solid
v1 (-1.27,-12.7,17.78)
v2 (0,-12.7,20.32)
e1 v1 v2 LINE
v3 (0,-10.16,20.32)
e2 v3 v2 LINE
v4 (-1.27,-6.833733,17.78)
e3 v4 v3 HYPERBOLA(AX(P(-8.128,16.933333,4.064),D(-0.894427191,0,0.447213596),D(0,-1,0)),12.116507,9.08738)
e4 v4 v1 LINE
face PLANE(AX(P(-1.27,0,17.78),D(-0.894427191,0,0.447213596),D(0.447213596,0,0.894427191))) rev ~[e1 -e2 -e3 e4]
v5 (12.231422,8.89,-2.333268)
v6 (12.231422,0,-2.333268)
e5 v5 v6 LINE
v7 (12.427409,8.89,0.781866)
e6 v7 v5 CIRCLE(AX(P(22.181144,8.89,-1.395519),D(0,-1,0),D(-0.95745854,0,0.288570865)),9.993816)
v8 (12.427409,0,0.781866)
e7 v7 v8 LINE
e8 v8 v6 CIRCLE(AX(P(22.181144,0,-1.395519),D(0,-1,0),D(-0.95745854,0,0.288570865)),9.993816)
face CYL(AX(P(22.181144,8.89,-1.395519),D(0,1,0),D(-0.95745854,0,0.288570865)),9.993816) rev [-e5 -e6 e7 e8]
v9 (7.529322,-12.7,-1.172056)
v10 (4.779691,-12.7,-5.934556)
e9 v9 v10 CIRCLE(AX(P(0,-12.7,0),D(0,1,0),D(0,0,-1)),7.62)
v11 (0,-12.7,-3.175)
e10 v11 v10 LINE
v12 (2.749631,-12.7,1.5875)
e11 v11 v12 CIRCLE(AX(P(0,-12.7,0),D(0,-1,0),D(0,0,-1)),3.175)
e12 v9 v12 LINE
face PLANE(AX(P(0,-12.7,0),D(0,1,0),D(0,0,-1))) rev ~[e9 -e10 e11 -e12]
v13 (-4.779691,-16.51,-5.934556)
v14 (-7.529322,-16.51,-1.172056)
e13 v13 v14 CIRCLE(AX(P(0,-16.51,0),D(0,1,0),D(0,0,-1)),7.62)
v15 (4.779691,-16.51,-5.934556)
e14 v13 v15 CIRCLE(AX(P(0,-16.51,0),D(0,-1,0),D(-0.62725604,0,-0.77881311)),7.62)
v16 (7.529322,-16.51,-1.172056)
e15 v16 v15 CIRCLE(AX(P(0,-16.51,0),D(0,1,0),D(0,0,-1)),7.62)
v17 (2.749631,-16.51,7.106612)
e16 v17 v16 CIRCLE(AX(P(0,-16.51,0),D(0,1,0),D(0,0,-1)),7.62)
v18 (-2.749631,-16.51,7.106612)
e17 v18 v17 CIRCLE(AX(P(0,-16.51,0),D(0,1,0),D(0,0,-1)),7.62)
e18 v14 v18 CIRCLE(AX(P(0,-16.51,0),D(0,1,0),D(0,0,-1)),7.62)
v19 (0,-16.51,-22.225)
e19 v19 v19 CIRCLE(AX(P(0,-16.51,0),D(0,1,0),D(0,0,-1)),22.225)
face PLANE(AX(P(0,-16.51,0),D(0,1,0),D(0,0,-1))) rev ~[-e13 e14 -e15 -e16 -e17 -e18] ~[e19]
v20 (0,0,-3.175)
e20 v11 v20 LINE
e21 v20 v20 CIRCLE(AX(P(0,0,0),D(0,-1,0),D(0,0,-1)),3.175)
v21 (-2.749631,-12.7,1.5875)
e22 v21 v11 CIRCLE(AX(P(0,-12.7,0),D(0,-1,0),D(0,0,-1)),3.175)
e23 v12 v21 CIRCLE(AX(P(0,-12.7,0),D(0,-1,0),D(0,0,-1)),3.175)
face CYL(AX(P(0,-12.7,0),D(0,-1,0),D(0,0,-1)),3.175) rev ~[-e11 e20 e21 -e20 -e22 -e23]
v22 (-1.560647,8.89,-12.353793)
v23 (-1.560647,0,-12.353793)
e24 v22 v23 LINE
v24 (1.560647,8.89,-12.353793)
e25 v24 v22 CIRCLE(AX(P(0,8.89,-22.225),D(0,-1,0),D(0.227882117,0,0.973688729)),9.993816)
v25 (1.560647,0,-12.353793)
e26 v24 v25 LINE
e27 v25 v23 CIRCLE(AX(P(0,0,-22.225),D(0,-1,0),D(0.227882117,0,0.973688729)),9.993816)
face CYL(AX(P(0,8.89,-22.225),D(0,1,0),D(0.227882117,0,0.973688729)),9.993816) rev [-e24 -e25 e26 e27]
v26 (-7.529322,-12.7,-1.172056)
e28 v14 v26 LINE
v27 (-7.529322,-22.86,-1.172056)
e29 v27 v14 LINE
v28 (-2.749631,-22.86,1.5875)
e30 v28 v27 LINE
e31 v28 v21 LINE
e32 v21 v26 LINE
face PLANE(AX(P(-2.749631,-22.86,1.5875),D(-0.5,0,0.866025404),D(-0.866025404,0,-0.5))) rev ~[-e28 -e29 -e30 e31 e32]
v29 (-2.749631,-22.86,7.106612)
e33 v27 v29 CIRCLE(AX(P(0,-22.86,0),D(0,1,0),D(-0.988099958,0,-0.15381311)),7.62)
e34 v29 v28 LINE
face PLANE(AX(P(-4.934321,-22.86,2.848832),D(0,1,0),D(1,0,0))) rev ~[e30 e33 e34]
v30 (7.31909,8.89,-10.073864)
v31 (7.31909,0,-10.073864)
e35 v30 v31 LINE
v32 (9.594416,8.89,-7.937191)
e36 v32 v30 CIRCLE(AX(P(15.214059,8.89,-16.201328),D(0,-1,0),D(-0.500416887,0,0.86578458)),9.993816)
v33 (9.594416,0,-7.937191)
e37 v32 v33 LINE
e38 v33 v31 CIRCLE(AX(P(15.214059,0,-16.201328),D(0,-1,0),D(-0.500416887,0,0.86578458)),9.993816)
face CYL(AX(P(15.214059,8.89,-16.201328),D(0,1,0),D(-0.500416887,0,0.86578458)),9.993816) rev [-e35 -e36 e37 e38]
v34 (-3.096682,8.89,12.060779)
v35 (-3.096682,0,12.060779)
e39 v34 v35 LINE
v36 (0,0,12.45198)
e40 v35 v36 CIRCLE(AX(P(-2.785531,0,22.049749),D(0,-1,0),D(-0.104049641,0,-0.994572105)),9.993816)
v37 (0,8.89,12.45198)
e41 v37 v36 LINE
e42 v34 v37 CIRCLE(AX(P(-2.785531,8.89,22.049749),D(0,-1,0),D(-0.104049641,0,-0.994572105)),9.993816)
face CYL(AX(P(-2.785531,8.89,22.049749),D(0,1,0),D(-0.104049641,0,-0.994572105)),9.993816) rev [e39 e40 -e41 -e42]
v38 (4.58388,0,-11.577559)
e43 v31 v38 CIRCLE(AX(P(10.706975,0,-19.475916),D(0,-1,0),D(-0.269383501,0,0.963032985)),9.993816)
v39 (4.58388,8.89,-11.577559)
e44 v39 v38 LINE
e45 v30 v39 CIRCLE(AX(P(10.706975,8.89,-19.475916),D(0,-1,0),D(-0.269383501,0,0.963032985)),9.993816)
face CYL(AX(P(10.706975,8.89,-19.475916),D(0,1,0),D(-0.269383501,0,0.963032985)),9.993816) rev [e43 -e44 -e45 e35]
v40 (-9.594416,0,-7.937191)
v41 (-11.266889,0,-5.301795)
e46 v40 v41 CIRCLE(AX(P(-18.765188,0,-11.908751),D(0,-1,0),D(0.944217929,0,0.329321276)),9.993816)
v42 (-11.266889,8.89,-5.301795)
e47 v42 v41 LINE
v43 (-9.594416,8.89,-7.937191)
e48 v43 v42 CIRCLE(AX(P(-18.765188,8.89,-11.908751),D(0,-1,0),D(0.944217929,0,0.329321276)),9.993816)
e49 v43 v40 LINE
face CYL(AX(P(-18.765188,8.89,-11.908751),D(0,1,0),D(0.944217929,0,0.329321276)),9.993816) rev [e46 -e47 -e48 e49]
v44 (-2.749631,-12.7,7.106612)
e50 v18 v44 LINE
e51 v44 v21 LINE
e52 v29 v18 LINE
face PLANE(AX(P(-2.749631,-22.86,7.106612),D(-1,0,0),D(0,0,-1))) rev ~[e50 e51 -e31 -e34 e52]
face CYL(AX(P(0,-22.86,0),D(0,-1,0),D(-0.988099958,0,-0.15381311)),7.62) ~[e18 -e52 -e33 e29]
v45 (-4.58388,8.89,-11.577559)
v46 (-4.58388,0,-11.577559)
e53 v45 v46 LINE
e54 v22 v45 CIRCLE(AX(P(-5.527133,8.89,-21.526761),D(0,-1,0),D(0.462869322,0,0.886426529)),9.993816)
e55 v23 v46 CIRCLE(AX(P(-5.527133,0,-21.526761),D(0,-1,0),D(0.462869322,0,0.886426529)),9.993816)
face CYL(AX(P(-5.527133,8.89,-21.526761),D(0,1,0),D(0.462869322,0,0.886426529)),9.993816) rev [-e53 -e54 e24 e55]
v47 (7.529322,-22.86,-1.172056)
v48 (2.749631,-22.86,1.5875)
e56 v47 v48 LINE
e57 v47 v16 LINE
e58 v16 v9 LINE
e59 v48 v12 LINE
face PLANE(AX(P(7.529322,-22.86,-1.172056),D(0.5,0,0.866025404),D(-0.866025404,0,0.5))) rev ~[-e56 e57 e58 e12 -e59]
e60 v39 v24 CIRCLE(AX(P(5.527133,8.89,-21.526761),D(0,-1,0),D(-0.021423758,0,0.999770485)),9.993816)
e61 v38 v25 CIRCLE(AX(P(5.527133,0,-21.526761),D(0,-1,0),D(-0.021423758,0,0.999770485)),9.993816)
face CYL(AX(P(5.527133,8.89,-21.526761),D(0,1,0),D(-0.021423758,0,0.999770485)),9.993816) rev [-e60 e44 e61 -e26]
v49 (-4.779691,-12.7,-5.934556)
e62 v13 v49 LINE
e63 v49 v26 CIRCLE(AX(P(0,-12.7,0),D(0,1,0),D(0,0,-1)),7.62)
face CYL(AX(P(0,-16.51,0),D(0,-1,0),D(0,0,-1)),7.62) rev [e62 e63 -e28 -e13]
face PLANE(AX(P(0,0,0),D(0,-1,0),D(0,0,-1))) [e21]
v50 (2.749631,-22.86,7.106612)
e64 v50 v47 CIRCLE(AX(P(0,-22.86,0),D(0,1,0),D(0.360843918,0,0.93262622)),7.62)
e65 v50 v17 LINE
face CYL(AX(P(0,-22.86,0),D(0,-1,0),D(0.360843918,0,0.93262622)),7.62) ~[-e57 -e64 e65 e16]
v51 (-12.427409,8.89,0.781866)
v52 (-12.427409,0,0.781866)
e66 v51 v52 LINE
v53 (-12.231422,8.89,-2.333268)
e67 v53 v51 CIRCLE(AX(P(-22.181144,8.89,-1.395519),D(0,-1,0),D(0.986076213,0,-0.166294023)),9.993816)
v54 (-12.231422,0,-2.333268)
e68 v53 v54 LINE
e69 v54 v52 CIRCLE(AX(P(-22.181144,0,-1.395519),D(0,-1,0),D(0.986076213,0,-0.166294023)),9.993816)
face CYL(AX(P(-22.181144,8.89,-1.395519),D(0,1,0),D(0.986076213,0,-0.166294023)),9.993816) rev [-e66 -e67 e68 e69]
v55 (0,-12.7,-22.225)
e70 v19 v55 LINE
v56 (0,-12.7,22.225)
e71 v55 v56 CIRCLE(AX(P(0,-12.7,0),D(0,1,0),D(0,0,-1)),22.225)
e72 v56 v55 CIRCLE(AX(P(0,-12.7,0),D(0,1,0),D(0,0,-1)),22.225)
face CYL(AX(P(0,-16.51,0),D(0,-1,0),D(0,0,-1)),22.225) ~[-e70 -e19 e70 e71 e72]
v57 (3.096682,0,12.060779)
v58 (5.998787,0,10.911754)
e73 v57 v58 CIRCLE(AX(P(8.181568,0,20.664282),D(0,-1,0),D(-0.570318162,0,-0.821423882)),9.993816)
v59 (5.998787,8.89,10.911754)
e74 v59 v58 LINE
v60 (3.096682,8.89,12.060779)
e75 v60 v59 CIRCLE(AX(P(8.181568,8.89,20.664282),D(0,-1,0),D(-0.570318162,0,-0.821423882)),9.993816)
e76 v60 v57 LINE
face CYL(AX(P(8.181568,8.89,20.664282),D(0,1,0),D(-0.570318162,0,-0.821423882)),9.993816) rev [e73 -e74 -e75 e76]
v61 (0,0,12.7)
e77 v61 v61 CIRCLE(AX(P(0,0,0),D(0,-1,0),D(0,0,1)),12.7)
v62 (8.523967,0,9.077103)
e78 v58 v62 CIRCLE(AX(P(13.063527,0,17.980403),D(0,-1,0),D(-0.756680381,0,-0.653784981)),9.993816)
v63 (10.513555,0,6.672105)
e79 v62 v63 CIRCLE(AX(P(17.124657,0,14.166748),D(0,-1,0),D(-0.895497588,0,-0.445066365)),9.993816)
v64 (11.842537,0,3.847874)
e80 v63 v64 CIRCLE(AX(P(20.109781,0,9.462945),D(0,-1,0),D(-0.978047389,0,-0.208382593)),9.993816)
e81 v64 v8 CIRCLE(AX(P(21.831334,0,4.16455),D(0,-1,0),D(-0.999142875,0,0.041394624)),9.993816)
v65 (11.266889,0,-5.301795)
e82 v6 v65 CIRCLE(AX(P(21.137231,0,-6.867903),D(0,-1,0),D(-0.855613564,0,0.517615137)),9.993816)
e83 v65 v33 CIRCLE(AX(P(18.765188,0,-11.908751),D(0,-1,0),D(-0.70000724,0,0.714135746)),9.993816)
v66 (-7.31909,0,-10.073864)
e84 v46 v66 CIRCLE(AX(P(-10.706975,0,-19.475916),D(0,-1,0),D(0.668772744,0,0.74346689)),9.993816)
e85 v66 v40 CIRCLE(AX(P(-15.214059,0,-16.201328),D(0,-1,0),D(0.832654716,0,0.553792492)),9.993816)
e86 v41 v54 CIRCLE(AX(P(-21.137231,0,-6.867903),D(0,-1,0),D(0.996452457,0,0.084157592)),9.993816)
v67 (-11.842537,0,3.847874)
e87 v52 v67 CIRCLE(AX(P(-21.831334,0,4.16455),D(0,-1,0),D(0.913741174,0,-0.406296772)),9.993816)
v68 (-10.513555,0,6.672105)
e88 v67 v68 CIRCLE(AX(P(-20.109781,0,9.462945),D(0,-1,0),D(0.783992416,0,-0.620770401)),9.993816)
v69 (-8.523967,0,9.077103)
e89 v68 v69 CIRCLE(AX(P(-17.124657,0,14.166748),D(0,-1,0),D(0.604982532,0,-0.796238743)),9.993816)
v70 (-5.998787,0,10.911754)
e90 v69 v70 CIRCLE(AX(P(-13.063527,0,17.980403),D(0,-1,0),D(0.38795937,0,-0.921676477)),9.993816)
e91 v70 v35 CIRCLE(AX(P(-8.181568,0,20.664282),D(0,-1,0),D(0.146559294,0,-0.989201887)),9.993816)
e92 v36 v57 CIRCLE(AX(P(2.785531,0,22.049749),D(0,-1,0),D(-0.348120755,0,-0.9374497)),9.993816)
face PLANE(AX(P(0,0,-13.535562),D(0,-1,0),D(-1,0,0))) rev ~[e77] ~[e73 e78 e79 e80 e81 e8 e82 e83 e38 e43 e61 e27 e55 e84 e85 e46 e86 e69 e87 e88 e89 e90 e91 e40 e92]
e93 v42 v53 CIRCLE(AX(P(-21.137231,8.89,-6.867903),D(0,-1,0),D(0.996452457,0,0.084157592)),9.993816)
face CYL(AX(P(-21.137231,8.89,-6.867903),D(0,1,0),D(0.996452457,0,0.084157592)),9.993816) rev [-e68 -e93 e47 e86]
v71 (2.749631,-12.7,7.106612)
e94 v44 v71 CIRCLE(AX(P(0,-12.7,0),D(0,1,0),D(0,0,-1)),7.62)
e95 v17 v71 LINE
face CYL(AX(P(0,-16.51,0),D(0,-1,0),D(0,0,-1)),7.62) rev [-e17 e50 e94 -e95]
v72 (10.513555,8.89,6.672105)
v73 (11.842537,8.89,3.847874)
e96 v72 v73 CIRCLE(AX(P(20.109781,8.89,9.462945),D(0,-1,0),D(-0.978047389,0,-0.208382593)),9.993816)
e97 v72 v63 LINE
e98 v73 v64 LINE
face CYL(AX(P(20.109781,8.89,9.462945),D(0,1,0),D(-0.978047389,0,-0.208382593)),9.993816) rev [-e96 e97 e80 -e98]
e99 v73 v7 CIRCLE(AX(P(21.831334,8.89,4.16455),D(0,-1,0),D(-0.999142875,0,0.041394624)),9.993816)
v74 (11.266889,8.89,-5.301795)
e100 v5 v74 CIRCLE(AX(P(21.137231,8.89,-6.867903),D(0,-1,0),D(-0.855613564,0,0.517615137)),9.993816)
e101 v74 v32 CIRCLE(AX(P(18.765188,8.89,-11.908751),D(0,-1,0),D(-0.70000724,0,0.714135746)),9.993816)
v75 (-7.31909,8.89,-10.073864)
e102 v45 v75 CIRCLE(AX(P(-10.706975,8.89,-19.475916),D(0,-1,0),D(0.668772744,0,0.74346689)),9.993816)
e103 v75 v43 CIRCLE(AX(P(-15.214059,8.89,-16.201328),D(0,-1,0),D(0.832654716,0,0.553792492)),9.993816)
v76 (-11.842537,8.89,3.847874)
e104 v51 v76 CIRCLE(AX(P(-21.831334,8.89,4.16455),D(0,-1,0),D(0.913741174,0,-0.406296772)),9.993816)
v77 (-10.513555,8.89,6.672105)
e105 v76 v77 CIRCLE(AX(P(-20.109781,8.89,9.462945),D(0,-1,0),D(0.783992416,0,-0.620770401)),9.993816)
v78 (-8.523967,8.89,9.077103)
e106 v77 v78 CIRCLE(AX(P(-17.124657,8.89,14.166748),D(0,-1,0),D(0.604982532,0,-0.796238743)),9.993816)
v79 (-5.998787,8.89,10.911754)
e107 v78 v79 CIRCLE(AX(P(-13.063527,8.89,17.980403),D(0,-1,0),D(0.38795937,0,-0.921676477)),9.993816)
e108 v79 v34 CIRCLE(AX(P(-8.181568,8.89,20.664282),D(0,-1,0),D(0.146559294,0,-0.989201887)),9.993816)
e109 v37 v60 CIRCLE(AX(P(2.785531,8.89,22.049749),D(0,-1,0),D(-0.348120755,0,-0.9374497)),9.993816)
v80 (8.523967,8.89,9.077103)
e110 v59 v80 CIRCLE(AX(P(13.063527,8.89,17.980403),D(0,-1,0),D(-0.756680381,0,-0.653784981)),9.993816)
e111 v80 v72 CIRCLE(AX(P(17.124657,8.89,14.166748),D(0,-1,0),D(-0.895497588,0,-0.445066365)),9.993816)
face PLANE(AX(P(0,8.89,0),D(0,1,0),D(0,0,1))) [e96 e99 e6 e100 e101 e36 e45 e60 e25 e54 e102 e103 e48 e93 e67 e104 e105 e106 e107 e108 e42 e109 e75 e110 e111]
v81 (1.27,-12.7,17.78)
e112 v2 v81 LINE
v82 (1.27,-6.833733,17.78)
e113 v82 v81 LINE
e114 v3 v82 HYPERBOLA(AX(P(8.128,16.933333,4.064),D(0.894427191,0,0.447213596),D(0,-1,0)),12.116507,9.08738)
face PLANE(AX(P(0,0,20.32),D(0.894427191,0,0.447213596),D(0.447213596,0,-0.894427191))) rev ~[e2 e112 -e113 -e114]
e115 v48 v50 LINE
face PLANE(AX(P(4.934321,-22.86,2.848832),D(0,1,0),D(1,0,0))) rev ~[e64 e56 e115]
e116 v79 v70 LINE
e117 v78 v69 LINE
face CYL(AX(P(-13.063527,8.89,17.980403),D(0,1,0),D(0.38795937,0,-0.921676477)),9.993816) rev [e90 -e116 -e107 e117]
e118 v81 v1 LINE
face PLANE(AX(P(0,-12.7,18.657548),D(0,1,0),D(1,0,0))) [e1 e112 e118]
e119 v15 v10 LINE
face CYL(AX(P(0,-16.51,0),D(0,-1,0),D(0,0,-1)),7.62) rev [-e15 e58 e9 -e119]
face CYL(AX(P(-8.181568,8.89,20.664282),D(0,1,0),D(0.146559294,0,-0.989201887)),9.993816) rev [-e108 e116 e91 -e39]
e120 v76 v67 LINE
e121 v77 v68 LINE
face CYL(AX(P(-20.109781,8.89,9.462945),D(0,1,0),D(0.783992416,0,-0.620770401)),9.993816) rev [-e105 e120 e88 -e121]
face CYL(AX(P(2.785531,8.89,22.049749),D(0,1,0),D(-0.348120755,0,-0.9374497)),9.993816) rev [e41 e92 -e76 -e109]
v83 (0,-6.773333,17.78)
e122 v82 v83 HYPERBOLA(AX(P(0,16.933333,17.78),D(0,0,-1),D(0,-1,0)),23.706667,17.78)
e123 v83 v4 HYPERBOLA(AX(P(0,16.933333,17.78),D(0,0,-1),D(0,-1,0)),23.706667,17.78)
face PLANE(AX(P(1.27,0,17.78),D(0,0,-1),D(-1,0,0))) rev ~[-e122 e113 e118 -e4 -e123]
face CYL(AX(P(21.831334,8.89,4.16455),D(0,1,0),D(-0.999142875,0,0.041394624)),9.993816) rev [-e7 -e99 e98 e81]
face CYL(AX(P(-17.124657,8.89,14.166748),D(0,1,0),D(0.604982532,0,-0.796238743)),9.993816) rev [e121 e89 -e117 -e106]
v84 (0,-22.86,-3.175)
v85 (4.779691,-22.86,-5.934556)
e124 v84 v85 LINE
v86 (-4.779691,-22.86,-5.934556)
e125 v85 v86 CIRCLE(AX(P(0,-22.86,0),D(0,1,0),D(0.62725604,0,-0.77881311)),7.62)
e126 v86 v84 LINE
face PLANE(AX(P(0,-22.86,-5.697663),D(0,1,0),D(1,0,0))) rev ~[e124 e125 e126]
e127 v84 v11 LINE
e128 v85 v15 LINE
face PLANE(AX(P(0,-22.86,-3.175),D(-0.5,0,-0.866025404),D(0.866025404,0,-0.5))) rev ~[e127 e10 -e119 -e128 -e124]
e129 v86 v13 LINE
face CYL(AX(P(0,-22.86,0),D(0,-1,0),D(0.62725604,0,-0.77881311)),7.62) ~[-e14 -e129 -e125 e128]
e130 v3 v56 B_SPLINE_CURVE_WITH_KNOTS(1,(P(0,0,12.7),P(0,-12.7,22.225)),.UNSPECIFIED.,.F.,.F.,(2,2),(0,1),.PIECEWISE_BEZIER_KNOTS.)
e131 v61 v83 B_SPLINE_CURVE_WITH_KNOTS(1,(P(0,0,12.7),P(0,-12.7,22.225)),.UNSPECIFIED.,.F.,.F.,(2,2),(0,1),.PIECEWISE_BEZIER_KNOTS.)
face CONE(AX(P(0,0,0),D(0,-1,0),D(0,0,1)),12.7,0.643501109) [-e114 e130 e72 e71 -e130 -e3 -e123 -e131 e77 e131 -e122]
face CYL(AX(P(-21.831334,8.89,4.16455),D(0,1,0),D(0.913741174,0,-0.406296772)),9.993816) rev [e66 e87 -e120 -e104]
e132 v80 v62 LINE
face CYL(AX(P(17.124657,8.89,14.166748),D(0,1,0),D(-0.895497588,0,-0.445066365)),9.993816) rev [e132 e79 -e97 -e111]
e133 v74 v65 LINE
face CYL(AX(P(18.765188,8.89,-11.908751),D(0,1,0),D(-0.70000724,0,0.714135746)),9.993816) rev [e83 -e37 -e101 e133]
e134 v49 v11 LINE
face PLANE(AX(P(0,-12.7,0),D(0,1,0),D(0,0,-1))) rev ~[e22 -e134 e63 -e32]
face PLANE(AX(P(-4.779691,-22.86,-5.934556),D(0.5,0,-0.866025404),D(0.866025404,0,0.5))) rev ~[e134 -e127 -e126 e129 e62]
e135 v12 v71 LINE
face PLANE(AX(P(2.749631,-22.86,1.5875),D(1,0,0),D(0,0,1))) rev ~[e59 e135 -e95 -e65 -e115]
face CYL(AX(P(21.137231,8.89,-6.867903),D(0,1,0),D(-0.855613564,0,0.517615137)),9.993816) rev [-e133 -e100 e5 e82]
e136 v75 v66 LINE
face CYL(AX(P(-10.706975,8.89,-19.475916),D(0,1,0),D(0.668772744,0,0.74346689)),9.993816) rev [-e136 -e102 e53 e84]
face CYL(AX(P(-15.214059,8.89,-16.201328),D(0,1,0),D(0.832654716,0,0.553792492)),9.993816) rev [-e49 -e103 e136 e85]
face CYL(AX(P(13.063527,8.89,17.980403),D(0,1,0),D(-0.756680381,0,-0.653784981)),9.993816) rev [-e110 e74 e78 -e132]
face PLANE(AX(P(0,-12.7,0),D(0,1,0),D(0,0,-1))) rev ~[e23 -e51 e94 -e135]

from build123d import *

# Parameters (mm, degrees)
SKETCH1_R                = 12.7
BOSS_EXTRUDE1_DEPTH      = 8.89
SKETCH2_R                = 22.225
BOSS_EXTRUDE3_DEPTH      = 3.81
SKETCH4_R                = 7.62
CUT_EXTRUDE2_DEPTH       = 3.81
BOSS_EXTRUDE4_DEPTH      = 3.81
BOSS_EXTRUDE4_DEPTH_BACK = 6.35
SKETCH7_R                = 3.175
CUT_EXTRUDE3_DEPTH       = 12.7
CUT_EXTRUDE4_DEPTH       = 12.7
CUT_EXTRUDE_THIN2_DEPTH  = 8.89


with BuildPart() as part:
    # Sketch1 → Boss-Extrude1 (new body)
    with BuildSketch(Plane(origin=(0, 0, 0), x_dir=(1, 0, 0), z_dir=(0, 1, 0))):
        with Locations(Location((0, 0, 0), (0, 0, 270))):
            Circle(SKETCH1_R)
    extrude(amount=BOSS_EXTRUDE1_DEPTH)



with BuildPart() as body_2:
    # Sketch2 → Boss-Extrude3 (new body)
    with BuildSketch(Plane(origin=(0, -16.51, 0), x_dir=(1, 0, 0), z_dir=(0, 1, 0))):
        with Locations(Location((0, 0, 0), (0, 0, 90))):
            Circle(SKETCH2_R)
    extrude(amount=BOSS_EXTRUDE3_DEPTH)


with BuildPart() as part_1:
    add(part.part)

    add(body_2.part)  # loft2 joins it to this body
    # loft up to a face of the part (loft2)
    loft([Face(Wire([part_1.edges().sort_by_distance((-9.257901568, 0, -8.693748245))[0]])), Face(Wire([part_1.edges().sort_by_distance((-16.201327744, -12.7, 15.214059429))[0]]))])

    # Sketch4 → Cut-Extrude2 (cut)
    with BuildSketch(Plane(origin=(0, -16.51, 0), x_dir=(1, 0, 0), z_dir=(0, 1, 0))):
        with Locations(Location((0, 0, 0), (0, 0, 90))):
            Circle(SKETCH4_R)
    extrude(amount=CUT_EXTRUDE2_DEPTH, mode=Mode.SUBTRACT)

    # Sketch3 → Boss-Extrude4 (add, two sides: drawn at the far end of the back side and taken through both)
    with BuildSketch(Plane(origin=(0, -16.51, 0), x_dir=(1, 0, 0), z_dir=(0, 1, 0)).offset(-BOSS_EXTRUDE4_DEPTH_BACK)):
        with BuildLine():
            Line((0, 3.175), (4.779691024, 5.934555899))
            ThreePointArc((4.779691024, 5.934555899), (0, 7.62), (-4.779691024, 5.934555899))
            Line((-4.779691024, 5.934555899), (0, 3.175))
        make_face()
        with BuildLine():
            Line((2.749630657, -1.5875), (2.749630657, -7.106611798))
            ThreePointArc((2.749630657, -7.106611798), (6.599113577, -3.81), (7.529321681, 1.172055899))
            Line((7.529321681, 1.172055899), (2.749630657, -1.5875))
        make_face()
        with BuildLine():
            Line((-2.749630657, -1.5875), (-7.529321681, 1.172055899))
            ThreePointArc((-7.529321681, 1.172055899), (-6.599113577, -3.81), (-2.749630657, -7.106611798))
            Line((-2.749630657, -7.106611798), (-2.749630657, -1.5875))
        make_face()
    extrude(amount=BOSS_EXTRUDE4_DEPTH + BOSS_EXTRUDE4_DEPTH_BACK)

    # Sketch7 → Cut-Extrude3 (cut)
    with BuildSketch(Plane.XZ.offset(12.7)):
        with Locations(Location((0, 0, 0), (0, 0, 270))):
            Circle(SKETCH7_R)
    extrude(amount=-CUT_EXTRUDE3_DEPTH, mode=Mode.SUBTRACT)

    # Sketch9 → Cut-Extrude4 (cut)
    with BuildSketch(Plane(origin=(0, 0, 0), x_dir=(1, 0, 0), z_dir=(0, 1, 0))):
        Polygon((0, -20.32), (1.27, -17.78), (-1.27, -17.78), align=None)
    extrude(amount=-CUT_EXTRUDE4_DEPTH, mode=Mode.SUBTRACT)

    # Sketch10 → Cut-Extrude-Thin2 (cut)
    with BuildSketch(Plane(origin=(0, 8.89, 0), x_dir=(1, 0, 0), z_dir=(0, 1, 0))):
        with BuildLine():
            ThreePointArc((2.277411846, 12.494134435), (0, 12.231184444), (-2.277411846, 12.494134435))
            Line((-2.277411846, 12.494134435), (-1.698591269, 14.967303806))
            ThreePointArc((-1.698591269, 14.967303806), (0, 14.771184444), (1.698591269, 14.967303806))
            Line((1.698591269, 14.967303806), (2.277411846, 12.494134435))
        make_face()
        with BuildLine():
            ThreePointArc((5.313027648, 11.535238932), (3.041771879, 11.846919293), (0.901302118, 12.667977522))
            Line((0.901302118, 12.667977522), (2.076990194, 14.919500905))
            ThreePointArc((2.076990194, 14.919500905), (3.673444193, 14.307120523), (5.367443996, 14.074655963))
            Line((5.367443996, 14.074655963), (5.313027648, 11.535238932))
        make_face()
        with BuildLine():
            ThreePointArc((8.014806383, 9.851541942), (5.892418045, 10.718268633), (4.023383955, 12.045844991))
            Line((4.023383955, 12.045844991), (5.722066724, 13.934250892))
            ThreePointArc((5.722066724, 13.934250892), (7.116072377, 12.944087601), (8.699040476, 12.297645723))
            Line((8.699040476, 12.297645723), (8.014806383, 9.851541942))
        make_face()
        with BuildLine():
            ThreePointArc((10.212985356, 7.548836342), (8.372821913, 8.916149736), (6.892661781, 10.666827718))
            Line((6.892661781, 10.666827718), (9.007604758, 12.073460649))
            ThreePointArc((9.007604758, 12.073460649), (10.111571563, 10.76773005), (11.48404425, 9.747929175))
            Line((11.48404425, 9.747929175), (10.212985356, 7.548836342))
        make_face()
        with BuildLine():
            ThreePointArc((11.769444899, 4.771809591), (10.327130588, 6.55379636), (9.328848318, 8.61757443))
            Line((9.328848318, 8.61757443), (11.727161858, 9.454050471))
            ThreePointArc((11.727161858, 9.454050471), (12.471723519, 7.914796419), (13.547463289, 6.585714386))
            Line((13.547463289, 6.585714386), (11.769444899, 4.771809591))
        make_face()
        with BuildLine():
            ThreePointArc((12.586386934, 1.694952494), (11.632547668, 3.779643855), (11.178869006, 6.026847247))
            Line((11.178869006, 6.026847247), (13.709858248, 6.240607531))
            ThreePointArc((13.709858248, 6.240607531), (14.048231219, 4.56454702), (14.759645385, 3.009694941))
            Line((14.759645385, 3.009694941), (12.586386934, 1.694952494))
        make_face()
        with BuildLine():
            ThreePointArc((12.612479988, -1.488404702), (12.207048996, 0.768002426), (12.326480242, 3.057431087))
            Line((12.326480242, 3.057431087), (14.831113823, 2.635044269))
            ThreePointArc((14.831113823, 2.635044269), (14.742036886, 0.927490345), (15.04442468, -0.755434705))
            Line((15.04442468, -0.755434705), (12.612479988, -1.488404702))
        make_face()
        with BuildLine():
            ThreePointArc((11.846084539, -4.578239956), (12.014536541, -2.29189542), (12.69957339, -0.104094714))
            Line((12.69957339, -0.104094714), (15.020475972, -1.136088515))
            ThreePointArc((15.020475972, -1.136088515), (14.509546158, -2.767843959), (14.383907442, -4.473097611))
            Line((14.383907442, -4.473097611), (11.846084539, -4.578239956))
        make_face()
        with BuildLine():
            ThreePointArc((10.335356031, -7.380407557), (11.067106569, -5.207785048), (12.274705637, -3.25907986))
            Line((12.274705637, -3.25907986), (14.266046374, -4.83583668))
            ThreePointArc((14.266046374, -4.83583668), (13.365367282, -6.289264448), (12.819596399, -7.909699343))
            Line((12.819596399, -7.909699343), (10.335356031, -7.380407557))
        make_face()
        with BuildLine():
            ThreePointArc((8.175219094, -9.718837007), (9.424289589, -7.796450388), (11.078572985, -6.209285033))
            Line((11.078572985, -6.209285033), (12.615228615, -8.231731441))
            ThreePointArc((12.615228615, -8.231731441), (11.381393226, -9.415507322), (10.449782968, -10.849305575))
            Line((10.449782968, -10.849305575), (8.175219094, -9.718837007))
        make_face()
        with BuildLine():
            ThreePointArc((5.501403074, -11.446596185), (7.189309834, -9.895236077), (9.186332848, -8.769337991))
            Line((9.186332848, -8.769337991), (10.171749647, -11.110396242))
            ThreePointArc((10.171749647, -11.110396242), (8.682284375, -11.950139243), (7.423371241, -13.107210037))
            Line((7.423371241, -13.107210037), (5.501403074, -11.446596185))
        make_face()
        with BuildLine():
            ThreePointArc((2.481913667, -12.455123626), (4.502599302, -11.372267691), (6.716881634, -10.778381192))
            Line((6.716881634, -10.778381192), (7.08914224, -13.290953985))
            ThreePointArc((7.08914224, -13.290953985), (5.437635666, -13.733899965), (3.930521798, -14.541540287))
            Line((3.930521798, -14.541540287), (2.481913667, -12.455123626))
        make_face()
        with BuildLine():
            ThreePointArc((-0.693523504, -12.681049844), (1.532973897, -12.134737902), (3.825384043, -12.110179062))
            Line((3.825384043, -12.110179062), (3.561097953, -14.636392209))
            ThreePointArc((3.561097953, -14.636392209), (1.85132031, -14.654709243), (0.190703214, -15.062172082))
            Line((0.190703214, -15.062172082), (-0.693523504, -12.681049844))
        make_face()
        with BuildLine():
            ThreePointArc((-3.825384043, -12.110179062), (-1.532973897, -12.134737902), (0.693523504, -12.681049844))
            Line((0.693523504, -12.681049844), (-0.190703214, -15.062172082))
            ThreePointArc((-0.190703214, -15.062172082), (-1.85132031, -14.654709243), (-3.561097953, -14.636392209))
            Line((-3.561097953, -14.636392209), (-3.825384043, -12.110179062))
        make_face()
        with BuildLine():
            ThreePointArc((-6.716881634, -10.778381192), (-4.502599302, -11.372267691), (-2.481913667, -12.455123626))
            Line((-2.481913667, -12.455123626), (-3.930521798, -14.541540287))
            ThreePointArc((-3.930521798, -14.541540287), (-5.437635666, -13.733899965), (-7.08914224, -13.290953985))
            Line((-7.08914224, -13.290953985), (-6.716881634, -10.778381192))
        make_face()
        with BuildLine():
            ThreePointArc((-9.186332848, -8.769337991), (-7.189309834, -9.895236077), (-5.501403074, -11.446596185))
            Line((-5.501403074, -11.446596185), (-7.423371241, -13.107210037))
            ThreePointArc((-7.423371241, -13.107210037), (-8.682284375, -11.950139243), (-10.171749647, -11.110396242))
            Line((-10.171749647, -11.110396242), (-9.186332848, -8.769337991))
        make_face()
        with BuildLine():
            ThreePointArc((-11.078572985, -6.209285033), (-9.424289589, -7.796450388), (-8.175219094, -9.718837007))
            Line((-8.175219094, -9.718837007), (-10.449782968, -10.849305575))
            ThreePointArc((-10.449782968, -10.849305575), (-11.381393226, -9.415507322), (-12.615228615, -8.231731441))
            Line((-12.615228615, -8.231731441), (-11.078572985, -6.209285033))
        make_face()
        with BuildLine():
            ThreePointArc((-12.274705637, -3.25907986), (-11.067106569, -5.207785048), (-10.335356031, -7.380407557))
            Line((-10.335356031, -7.380407557), (-12.819596399, -7.909699343))
            ThreePointArc((-12.819596399, -7.909699343), (-13.365367282, -6.289264448), (-14.266046374, -4.83583668))
            Line((-14.266046374, -4.83583668), (-12.274705637, -3.25907986))
        make_face()
        with BuildLine():
            ThreePointArc((-12.69957339, -0.104094714), (-12.014536541, -2.29189542), (-11.846084539, -4.578239956))
            Line((-11.846084539, -4.578239956), (-14.383907442, -4.473097611))
            ThreePointArc((-14.383907442, -4.473097611), (-14.509546158, -2.767843959), (-15.020475972, -1.136088515))
            Line((-15.020475972, -1.136088515), (-12.69957339, -0.104094714))
        make_face()
        with BuildLine():
            ThreePointArc((-12.326480242, 3.057431087), (-12.207048996, 0.768002426), (-12.612479988, -1.488404702))
            Line((-12.612479988, -1.488404702), (-15.04442468, -0.755434705))
            ThreePointArc((-15.04442468, -0.755434705), (-14.742036886, 0.927490345), (-14.831113823, 2.635044269))
            Line((-14.831113823, 2.635044269), (-12.326480242, 3.057431087))
        make_face()
        with BuildLine():
            ThreePointArc((-11.178869006, 6.026847247), (-11.632547668, 3.779643855), (-12.586386934, 1.694952494))
            Line((-12.586386934, 1.694952494), (-14.759645385, 3.009694941))
            ThreePointArc((-14.759645385, 3.009694941), (-14.048231219, 4.56454702), (-13.709858248, 6.240607531))
            Line((-13.709858248, 6.240607531), (-11.178869006, 6.026847247))
        make_face()
        with BuildLine():
            ThreePointArc((-9.328848318, 8.61757443), (-10.327130588, 6.55379636), (-11.769444899, 4.771809591))
            Line((-11.769444899, 4.771809591), (-13.547463289, 6.585714386))
            ThreePointArc((-13.547463289, 6.585714386), (-12.471723519, 7.914796419), (-11.727161858, 9.454050471))
            Line((-11.727161858, 9.454050471), (-9.328848318, 8.61757443))
        make_face()
        with BuildLine():
            ThreePointArc((-6.892661781, 10.666827718), (-8.372821913, 8.916149736), (-10.212985356, 7.548836342))
            Line((-10.212985356, 7.548836342), (-11.48404425, 9.747929175))
            ThreePointArc((-11.48404425, 9.747929175), (-10.111571563, 10.76773005), (-9.007604758, 12.073460649))
            Line((-9.007604758, 12.073460649), (-6.892661781, 10.666827718))
        make_face()
        with BuildLine():
            ThreePointArc((-4.023383955, 12.045844991), (-5.892418045, 10.718268633), (-8.014806383, 9.851541942))
            Line((-8.014806383, 9.851541942), (-8.699040476, 12.297645723))
            ThreePointArc((-8.699040476, 12.297645723), (-7.116072377, 12.944087601), (-5.722066724, 13.934250892))
            Line((-5.722066724, 13.934250892), (-4.023383955, 12.045844991))
        make_face()
        with BuildLine():
            ThreePointArc((-0.901302118, 12.667977522), (-3.041771879, 11.846919293), (-5.313027648, 11.535238932))
            Line((-5.313027648, 11.535238932), (-5.367443996, 14.074655963))
            ThreePointArc((-5.367443996, 14.074655963), (-3.673444193, 14.307120523), (-2.076990194, 14.919500905))
            Line((-2.076990194, 14.919500905), (-0.901302118, 12.667977522))
        make_face()
    extrude(amount=-CUT_EXTRUDE_THIN2_DEPTH, mode=Mode.SUBTRACT)


solid = part_1.part
